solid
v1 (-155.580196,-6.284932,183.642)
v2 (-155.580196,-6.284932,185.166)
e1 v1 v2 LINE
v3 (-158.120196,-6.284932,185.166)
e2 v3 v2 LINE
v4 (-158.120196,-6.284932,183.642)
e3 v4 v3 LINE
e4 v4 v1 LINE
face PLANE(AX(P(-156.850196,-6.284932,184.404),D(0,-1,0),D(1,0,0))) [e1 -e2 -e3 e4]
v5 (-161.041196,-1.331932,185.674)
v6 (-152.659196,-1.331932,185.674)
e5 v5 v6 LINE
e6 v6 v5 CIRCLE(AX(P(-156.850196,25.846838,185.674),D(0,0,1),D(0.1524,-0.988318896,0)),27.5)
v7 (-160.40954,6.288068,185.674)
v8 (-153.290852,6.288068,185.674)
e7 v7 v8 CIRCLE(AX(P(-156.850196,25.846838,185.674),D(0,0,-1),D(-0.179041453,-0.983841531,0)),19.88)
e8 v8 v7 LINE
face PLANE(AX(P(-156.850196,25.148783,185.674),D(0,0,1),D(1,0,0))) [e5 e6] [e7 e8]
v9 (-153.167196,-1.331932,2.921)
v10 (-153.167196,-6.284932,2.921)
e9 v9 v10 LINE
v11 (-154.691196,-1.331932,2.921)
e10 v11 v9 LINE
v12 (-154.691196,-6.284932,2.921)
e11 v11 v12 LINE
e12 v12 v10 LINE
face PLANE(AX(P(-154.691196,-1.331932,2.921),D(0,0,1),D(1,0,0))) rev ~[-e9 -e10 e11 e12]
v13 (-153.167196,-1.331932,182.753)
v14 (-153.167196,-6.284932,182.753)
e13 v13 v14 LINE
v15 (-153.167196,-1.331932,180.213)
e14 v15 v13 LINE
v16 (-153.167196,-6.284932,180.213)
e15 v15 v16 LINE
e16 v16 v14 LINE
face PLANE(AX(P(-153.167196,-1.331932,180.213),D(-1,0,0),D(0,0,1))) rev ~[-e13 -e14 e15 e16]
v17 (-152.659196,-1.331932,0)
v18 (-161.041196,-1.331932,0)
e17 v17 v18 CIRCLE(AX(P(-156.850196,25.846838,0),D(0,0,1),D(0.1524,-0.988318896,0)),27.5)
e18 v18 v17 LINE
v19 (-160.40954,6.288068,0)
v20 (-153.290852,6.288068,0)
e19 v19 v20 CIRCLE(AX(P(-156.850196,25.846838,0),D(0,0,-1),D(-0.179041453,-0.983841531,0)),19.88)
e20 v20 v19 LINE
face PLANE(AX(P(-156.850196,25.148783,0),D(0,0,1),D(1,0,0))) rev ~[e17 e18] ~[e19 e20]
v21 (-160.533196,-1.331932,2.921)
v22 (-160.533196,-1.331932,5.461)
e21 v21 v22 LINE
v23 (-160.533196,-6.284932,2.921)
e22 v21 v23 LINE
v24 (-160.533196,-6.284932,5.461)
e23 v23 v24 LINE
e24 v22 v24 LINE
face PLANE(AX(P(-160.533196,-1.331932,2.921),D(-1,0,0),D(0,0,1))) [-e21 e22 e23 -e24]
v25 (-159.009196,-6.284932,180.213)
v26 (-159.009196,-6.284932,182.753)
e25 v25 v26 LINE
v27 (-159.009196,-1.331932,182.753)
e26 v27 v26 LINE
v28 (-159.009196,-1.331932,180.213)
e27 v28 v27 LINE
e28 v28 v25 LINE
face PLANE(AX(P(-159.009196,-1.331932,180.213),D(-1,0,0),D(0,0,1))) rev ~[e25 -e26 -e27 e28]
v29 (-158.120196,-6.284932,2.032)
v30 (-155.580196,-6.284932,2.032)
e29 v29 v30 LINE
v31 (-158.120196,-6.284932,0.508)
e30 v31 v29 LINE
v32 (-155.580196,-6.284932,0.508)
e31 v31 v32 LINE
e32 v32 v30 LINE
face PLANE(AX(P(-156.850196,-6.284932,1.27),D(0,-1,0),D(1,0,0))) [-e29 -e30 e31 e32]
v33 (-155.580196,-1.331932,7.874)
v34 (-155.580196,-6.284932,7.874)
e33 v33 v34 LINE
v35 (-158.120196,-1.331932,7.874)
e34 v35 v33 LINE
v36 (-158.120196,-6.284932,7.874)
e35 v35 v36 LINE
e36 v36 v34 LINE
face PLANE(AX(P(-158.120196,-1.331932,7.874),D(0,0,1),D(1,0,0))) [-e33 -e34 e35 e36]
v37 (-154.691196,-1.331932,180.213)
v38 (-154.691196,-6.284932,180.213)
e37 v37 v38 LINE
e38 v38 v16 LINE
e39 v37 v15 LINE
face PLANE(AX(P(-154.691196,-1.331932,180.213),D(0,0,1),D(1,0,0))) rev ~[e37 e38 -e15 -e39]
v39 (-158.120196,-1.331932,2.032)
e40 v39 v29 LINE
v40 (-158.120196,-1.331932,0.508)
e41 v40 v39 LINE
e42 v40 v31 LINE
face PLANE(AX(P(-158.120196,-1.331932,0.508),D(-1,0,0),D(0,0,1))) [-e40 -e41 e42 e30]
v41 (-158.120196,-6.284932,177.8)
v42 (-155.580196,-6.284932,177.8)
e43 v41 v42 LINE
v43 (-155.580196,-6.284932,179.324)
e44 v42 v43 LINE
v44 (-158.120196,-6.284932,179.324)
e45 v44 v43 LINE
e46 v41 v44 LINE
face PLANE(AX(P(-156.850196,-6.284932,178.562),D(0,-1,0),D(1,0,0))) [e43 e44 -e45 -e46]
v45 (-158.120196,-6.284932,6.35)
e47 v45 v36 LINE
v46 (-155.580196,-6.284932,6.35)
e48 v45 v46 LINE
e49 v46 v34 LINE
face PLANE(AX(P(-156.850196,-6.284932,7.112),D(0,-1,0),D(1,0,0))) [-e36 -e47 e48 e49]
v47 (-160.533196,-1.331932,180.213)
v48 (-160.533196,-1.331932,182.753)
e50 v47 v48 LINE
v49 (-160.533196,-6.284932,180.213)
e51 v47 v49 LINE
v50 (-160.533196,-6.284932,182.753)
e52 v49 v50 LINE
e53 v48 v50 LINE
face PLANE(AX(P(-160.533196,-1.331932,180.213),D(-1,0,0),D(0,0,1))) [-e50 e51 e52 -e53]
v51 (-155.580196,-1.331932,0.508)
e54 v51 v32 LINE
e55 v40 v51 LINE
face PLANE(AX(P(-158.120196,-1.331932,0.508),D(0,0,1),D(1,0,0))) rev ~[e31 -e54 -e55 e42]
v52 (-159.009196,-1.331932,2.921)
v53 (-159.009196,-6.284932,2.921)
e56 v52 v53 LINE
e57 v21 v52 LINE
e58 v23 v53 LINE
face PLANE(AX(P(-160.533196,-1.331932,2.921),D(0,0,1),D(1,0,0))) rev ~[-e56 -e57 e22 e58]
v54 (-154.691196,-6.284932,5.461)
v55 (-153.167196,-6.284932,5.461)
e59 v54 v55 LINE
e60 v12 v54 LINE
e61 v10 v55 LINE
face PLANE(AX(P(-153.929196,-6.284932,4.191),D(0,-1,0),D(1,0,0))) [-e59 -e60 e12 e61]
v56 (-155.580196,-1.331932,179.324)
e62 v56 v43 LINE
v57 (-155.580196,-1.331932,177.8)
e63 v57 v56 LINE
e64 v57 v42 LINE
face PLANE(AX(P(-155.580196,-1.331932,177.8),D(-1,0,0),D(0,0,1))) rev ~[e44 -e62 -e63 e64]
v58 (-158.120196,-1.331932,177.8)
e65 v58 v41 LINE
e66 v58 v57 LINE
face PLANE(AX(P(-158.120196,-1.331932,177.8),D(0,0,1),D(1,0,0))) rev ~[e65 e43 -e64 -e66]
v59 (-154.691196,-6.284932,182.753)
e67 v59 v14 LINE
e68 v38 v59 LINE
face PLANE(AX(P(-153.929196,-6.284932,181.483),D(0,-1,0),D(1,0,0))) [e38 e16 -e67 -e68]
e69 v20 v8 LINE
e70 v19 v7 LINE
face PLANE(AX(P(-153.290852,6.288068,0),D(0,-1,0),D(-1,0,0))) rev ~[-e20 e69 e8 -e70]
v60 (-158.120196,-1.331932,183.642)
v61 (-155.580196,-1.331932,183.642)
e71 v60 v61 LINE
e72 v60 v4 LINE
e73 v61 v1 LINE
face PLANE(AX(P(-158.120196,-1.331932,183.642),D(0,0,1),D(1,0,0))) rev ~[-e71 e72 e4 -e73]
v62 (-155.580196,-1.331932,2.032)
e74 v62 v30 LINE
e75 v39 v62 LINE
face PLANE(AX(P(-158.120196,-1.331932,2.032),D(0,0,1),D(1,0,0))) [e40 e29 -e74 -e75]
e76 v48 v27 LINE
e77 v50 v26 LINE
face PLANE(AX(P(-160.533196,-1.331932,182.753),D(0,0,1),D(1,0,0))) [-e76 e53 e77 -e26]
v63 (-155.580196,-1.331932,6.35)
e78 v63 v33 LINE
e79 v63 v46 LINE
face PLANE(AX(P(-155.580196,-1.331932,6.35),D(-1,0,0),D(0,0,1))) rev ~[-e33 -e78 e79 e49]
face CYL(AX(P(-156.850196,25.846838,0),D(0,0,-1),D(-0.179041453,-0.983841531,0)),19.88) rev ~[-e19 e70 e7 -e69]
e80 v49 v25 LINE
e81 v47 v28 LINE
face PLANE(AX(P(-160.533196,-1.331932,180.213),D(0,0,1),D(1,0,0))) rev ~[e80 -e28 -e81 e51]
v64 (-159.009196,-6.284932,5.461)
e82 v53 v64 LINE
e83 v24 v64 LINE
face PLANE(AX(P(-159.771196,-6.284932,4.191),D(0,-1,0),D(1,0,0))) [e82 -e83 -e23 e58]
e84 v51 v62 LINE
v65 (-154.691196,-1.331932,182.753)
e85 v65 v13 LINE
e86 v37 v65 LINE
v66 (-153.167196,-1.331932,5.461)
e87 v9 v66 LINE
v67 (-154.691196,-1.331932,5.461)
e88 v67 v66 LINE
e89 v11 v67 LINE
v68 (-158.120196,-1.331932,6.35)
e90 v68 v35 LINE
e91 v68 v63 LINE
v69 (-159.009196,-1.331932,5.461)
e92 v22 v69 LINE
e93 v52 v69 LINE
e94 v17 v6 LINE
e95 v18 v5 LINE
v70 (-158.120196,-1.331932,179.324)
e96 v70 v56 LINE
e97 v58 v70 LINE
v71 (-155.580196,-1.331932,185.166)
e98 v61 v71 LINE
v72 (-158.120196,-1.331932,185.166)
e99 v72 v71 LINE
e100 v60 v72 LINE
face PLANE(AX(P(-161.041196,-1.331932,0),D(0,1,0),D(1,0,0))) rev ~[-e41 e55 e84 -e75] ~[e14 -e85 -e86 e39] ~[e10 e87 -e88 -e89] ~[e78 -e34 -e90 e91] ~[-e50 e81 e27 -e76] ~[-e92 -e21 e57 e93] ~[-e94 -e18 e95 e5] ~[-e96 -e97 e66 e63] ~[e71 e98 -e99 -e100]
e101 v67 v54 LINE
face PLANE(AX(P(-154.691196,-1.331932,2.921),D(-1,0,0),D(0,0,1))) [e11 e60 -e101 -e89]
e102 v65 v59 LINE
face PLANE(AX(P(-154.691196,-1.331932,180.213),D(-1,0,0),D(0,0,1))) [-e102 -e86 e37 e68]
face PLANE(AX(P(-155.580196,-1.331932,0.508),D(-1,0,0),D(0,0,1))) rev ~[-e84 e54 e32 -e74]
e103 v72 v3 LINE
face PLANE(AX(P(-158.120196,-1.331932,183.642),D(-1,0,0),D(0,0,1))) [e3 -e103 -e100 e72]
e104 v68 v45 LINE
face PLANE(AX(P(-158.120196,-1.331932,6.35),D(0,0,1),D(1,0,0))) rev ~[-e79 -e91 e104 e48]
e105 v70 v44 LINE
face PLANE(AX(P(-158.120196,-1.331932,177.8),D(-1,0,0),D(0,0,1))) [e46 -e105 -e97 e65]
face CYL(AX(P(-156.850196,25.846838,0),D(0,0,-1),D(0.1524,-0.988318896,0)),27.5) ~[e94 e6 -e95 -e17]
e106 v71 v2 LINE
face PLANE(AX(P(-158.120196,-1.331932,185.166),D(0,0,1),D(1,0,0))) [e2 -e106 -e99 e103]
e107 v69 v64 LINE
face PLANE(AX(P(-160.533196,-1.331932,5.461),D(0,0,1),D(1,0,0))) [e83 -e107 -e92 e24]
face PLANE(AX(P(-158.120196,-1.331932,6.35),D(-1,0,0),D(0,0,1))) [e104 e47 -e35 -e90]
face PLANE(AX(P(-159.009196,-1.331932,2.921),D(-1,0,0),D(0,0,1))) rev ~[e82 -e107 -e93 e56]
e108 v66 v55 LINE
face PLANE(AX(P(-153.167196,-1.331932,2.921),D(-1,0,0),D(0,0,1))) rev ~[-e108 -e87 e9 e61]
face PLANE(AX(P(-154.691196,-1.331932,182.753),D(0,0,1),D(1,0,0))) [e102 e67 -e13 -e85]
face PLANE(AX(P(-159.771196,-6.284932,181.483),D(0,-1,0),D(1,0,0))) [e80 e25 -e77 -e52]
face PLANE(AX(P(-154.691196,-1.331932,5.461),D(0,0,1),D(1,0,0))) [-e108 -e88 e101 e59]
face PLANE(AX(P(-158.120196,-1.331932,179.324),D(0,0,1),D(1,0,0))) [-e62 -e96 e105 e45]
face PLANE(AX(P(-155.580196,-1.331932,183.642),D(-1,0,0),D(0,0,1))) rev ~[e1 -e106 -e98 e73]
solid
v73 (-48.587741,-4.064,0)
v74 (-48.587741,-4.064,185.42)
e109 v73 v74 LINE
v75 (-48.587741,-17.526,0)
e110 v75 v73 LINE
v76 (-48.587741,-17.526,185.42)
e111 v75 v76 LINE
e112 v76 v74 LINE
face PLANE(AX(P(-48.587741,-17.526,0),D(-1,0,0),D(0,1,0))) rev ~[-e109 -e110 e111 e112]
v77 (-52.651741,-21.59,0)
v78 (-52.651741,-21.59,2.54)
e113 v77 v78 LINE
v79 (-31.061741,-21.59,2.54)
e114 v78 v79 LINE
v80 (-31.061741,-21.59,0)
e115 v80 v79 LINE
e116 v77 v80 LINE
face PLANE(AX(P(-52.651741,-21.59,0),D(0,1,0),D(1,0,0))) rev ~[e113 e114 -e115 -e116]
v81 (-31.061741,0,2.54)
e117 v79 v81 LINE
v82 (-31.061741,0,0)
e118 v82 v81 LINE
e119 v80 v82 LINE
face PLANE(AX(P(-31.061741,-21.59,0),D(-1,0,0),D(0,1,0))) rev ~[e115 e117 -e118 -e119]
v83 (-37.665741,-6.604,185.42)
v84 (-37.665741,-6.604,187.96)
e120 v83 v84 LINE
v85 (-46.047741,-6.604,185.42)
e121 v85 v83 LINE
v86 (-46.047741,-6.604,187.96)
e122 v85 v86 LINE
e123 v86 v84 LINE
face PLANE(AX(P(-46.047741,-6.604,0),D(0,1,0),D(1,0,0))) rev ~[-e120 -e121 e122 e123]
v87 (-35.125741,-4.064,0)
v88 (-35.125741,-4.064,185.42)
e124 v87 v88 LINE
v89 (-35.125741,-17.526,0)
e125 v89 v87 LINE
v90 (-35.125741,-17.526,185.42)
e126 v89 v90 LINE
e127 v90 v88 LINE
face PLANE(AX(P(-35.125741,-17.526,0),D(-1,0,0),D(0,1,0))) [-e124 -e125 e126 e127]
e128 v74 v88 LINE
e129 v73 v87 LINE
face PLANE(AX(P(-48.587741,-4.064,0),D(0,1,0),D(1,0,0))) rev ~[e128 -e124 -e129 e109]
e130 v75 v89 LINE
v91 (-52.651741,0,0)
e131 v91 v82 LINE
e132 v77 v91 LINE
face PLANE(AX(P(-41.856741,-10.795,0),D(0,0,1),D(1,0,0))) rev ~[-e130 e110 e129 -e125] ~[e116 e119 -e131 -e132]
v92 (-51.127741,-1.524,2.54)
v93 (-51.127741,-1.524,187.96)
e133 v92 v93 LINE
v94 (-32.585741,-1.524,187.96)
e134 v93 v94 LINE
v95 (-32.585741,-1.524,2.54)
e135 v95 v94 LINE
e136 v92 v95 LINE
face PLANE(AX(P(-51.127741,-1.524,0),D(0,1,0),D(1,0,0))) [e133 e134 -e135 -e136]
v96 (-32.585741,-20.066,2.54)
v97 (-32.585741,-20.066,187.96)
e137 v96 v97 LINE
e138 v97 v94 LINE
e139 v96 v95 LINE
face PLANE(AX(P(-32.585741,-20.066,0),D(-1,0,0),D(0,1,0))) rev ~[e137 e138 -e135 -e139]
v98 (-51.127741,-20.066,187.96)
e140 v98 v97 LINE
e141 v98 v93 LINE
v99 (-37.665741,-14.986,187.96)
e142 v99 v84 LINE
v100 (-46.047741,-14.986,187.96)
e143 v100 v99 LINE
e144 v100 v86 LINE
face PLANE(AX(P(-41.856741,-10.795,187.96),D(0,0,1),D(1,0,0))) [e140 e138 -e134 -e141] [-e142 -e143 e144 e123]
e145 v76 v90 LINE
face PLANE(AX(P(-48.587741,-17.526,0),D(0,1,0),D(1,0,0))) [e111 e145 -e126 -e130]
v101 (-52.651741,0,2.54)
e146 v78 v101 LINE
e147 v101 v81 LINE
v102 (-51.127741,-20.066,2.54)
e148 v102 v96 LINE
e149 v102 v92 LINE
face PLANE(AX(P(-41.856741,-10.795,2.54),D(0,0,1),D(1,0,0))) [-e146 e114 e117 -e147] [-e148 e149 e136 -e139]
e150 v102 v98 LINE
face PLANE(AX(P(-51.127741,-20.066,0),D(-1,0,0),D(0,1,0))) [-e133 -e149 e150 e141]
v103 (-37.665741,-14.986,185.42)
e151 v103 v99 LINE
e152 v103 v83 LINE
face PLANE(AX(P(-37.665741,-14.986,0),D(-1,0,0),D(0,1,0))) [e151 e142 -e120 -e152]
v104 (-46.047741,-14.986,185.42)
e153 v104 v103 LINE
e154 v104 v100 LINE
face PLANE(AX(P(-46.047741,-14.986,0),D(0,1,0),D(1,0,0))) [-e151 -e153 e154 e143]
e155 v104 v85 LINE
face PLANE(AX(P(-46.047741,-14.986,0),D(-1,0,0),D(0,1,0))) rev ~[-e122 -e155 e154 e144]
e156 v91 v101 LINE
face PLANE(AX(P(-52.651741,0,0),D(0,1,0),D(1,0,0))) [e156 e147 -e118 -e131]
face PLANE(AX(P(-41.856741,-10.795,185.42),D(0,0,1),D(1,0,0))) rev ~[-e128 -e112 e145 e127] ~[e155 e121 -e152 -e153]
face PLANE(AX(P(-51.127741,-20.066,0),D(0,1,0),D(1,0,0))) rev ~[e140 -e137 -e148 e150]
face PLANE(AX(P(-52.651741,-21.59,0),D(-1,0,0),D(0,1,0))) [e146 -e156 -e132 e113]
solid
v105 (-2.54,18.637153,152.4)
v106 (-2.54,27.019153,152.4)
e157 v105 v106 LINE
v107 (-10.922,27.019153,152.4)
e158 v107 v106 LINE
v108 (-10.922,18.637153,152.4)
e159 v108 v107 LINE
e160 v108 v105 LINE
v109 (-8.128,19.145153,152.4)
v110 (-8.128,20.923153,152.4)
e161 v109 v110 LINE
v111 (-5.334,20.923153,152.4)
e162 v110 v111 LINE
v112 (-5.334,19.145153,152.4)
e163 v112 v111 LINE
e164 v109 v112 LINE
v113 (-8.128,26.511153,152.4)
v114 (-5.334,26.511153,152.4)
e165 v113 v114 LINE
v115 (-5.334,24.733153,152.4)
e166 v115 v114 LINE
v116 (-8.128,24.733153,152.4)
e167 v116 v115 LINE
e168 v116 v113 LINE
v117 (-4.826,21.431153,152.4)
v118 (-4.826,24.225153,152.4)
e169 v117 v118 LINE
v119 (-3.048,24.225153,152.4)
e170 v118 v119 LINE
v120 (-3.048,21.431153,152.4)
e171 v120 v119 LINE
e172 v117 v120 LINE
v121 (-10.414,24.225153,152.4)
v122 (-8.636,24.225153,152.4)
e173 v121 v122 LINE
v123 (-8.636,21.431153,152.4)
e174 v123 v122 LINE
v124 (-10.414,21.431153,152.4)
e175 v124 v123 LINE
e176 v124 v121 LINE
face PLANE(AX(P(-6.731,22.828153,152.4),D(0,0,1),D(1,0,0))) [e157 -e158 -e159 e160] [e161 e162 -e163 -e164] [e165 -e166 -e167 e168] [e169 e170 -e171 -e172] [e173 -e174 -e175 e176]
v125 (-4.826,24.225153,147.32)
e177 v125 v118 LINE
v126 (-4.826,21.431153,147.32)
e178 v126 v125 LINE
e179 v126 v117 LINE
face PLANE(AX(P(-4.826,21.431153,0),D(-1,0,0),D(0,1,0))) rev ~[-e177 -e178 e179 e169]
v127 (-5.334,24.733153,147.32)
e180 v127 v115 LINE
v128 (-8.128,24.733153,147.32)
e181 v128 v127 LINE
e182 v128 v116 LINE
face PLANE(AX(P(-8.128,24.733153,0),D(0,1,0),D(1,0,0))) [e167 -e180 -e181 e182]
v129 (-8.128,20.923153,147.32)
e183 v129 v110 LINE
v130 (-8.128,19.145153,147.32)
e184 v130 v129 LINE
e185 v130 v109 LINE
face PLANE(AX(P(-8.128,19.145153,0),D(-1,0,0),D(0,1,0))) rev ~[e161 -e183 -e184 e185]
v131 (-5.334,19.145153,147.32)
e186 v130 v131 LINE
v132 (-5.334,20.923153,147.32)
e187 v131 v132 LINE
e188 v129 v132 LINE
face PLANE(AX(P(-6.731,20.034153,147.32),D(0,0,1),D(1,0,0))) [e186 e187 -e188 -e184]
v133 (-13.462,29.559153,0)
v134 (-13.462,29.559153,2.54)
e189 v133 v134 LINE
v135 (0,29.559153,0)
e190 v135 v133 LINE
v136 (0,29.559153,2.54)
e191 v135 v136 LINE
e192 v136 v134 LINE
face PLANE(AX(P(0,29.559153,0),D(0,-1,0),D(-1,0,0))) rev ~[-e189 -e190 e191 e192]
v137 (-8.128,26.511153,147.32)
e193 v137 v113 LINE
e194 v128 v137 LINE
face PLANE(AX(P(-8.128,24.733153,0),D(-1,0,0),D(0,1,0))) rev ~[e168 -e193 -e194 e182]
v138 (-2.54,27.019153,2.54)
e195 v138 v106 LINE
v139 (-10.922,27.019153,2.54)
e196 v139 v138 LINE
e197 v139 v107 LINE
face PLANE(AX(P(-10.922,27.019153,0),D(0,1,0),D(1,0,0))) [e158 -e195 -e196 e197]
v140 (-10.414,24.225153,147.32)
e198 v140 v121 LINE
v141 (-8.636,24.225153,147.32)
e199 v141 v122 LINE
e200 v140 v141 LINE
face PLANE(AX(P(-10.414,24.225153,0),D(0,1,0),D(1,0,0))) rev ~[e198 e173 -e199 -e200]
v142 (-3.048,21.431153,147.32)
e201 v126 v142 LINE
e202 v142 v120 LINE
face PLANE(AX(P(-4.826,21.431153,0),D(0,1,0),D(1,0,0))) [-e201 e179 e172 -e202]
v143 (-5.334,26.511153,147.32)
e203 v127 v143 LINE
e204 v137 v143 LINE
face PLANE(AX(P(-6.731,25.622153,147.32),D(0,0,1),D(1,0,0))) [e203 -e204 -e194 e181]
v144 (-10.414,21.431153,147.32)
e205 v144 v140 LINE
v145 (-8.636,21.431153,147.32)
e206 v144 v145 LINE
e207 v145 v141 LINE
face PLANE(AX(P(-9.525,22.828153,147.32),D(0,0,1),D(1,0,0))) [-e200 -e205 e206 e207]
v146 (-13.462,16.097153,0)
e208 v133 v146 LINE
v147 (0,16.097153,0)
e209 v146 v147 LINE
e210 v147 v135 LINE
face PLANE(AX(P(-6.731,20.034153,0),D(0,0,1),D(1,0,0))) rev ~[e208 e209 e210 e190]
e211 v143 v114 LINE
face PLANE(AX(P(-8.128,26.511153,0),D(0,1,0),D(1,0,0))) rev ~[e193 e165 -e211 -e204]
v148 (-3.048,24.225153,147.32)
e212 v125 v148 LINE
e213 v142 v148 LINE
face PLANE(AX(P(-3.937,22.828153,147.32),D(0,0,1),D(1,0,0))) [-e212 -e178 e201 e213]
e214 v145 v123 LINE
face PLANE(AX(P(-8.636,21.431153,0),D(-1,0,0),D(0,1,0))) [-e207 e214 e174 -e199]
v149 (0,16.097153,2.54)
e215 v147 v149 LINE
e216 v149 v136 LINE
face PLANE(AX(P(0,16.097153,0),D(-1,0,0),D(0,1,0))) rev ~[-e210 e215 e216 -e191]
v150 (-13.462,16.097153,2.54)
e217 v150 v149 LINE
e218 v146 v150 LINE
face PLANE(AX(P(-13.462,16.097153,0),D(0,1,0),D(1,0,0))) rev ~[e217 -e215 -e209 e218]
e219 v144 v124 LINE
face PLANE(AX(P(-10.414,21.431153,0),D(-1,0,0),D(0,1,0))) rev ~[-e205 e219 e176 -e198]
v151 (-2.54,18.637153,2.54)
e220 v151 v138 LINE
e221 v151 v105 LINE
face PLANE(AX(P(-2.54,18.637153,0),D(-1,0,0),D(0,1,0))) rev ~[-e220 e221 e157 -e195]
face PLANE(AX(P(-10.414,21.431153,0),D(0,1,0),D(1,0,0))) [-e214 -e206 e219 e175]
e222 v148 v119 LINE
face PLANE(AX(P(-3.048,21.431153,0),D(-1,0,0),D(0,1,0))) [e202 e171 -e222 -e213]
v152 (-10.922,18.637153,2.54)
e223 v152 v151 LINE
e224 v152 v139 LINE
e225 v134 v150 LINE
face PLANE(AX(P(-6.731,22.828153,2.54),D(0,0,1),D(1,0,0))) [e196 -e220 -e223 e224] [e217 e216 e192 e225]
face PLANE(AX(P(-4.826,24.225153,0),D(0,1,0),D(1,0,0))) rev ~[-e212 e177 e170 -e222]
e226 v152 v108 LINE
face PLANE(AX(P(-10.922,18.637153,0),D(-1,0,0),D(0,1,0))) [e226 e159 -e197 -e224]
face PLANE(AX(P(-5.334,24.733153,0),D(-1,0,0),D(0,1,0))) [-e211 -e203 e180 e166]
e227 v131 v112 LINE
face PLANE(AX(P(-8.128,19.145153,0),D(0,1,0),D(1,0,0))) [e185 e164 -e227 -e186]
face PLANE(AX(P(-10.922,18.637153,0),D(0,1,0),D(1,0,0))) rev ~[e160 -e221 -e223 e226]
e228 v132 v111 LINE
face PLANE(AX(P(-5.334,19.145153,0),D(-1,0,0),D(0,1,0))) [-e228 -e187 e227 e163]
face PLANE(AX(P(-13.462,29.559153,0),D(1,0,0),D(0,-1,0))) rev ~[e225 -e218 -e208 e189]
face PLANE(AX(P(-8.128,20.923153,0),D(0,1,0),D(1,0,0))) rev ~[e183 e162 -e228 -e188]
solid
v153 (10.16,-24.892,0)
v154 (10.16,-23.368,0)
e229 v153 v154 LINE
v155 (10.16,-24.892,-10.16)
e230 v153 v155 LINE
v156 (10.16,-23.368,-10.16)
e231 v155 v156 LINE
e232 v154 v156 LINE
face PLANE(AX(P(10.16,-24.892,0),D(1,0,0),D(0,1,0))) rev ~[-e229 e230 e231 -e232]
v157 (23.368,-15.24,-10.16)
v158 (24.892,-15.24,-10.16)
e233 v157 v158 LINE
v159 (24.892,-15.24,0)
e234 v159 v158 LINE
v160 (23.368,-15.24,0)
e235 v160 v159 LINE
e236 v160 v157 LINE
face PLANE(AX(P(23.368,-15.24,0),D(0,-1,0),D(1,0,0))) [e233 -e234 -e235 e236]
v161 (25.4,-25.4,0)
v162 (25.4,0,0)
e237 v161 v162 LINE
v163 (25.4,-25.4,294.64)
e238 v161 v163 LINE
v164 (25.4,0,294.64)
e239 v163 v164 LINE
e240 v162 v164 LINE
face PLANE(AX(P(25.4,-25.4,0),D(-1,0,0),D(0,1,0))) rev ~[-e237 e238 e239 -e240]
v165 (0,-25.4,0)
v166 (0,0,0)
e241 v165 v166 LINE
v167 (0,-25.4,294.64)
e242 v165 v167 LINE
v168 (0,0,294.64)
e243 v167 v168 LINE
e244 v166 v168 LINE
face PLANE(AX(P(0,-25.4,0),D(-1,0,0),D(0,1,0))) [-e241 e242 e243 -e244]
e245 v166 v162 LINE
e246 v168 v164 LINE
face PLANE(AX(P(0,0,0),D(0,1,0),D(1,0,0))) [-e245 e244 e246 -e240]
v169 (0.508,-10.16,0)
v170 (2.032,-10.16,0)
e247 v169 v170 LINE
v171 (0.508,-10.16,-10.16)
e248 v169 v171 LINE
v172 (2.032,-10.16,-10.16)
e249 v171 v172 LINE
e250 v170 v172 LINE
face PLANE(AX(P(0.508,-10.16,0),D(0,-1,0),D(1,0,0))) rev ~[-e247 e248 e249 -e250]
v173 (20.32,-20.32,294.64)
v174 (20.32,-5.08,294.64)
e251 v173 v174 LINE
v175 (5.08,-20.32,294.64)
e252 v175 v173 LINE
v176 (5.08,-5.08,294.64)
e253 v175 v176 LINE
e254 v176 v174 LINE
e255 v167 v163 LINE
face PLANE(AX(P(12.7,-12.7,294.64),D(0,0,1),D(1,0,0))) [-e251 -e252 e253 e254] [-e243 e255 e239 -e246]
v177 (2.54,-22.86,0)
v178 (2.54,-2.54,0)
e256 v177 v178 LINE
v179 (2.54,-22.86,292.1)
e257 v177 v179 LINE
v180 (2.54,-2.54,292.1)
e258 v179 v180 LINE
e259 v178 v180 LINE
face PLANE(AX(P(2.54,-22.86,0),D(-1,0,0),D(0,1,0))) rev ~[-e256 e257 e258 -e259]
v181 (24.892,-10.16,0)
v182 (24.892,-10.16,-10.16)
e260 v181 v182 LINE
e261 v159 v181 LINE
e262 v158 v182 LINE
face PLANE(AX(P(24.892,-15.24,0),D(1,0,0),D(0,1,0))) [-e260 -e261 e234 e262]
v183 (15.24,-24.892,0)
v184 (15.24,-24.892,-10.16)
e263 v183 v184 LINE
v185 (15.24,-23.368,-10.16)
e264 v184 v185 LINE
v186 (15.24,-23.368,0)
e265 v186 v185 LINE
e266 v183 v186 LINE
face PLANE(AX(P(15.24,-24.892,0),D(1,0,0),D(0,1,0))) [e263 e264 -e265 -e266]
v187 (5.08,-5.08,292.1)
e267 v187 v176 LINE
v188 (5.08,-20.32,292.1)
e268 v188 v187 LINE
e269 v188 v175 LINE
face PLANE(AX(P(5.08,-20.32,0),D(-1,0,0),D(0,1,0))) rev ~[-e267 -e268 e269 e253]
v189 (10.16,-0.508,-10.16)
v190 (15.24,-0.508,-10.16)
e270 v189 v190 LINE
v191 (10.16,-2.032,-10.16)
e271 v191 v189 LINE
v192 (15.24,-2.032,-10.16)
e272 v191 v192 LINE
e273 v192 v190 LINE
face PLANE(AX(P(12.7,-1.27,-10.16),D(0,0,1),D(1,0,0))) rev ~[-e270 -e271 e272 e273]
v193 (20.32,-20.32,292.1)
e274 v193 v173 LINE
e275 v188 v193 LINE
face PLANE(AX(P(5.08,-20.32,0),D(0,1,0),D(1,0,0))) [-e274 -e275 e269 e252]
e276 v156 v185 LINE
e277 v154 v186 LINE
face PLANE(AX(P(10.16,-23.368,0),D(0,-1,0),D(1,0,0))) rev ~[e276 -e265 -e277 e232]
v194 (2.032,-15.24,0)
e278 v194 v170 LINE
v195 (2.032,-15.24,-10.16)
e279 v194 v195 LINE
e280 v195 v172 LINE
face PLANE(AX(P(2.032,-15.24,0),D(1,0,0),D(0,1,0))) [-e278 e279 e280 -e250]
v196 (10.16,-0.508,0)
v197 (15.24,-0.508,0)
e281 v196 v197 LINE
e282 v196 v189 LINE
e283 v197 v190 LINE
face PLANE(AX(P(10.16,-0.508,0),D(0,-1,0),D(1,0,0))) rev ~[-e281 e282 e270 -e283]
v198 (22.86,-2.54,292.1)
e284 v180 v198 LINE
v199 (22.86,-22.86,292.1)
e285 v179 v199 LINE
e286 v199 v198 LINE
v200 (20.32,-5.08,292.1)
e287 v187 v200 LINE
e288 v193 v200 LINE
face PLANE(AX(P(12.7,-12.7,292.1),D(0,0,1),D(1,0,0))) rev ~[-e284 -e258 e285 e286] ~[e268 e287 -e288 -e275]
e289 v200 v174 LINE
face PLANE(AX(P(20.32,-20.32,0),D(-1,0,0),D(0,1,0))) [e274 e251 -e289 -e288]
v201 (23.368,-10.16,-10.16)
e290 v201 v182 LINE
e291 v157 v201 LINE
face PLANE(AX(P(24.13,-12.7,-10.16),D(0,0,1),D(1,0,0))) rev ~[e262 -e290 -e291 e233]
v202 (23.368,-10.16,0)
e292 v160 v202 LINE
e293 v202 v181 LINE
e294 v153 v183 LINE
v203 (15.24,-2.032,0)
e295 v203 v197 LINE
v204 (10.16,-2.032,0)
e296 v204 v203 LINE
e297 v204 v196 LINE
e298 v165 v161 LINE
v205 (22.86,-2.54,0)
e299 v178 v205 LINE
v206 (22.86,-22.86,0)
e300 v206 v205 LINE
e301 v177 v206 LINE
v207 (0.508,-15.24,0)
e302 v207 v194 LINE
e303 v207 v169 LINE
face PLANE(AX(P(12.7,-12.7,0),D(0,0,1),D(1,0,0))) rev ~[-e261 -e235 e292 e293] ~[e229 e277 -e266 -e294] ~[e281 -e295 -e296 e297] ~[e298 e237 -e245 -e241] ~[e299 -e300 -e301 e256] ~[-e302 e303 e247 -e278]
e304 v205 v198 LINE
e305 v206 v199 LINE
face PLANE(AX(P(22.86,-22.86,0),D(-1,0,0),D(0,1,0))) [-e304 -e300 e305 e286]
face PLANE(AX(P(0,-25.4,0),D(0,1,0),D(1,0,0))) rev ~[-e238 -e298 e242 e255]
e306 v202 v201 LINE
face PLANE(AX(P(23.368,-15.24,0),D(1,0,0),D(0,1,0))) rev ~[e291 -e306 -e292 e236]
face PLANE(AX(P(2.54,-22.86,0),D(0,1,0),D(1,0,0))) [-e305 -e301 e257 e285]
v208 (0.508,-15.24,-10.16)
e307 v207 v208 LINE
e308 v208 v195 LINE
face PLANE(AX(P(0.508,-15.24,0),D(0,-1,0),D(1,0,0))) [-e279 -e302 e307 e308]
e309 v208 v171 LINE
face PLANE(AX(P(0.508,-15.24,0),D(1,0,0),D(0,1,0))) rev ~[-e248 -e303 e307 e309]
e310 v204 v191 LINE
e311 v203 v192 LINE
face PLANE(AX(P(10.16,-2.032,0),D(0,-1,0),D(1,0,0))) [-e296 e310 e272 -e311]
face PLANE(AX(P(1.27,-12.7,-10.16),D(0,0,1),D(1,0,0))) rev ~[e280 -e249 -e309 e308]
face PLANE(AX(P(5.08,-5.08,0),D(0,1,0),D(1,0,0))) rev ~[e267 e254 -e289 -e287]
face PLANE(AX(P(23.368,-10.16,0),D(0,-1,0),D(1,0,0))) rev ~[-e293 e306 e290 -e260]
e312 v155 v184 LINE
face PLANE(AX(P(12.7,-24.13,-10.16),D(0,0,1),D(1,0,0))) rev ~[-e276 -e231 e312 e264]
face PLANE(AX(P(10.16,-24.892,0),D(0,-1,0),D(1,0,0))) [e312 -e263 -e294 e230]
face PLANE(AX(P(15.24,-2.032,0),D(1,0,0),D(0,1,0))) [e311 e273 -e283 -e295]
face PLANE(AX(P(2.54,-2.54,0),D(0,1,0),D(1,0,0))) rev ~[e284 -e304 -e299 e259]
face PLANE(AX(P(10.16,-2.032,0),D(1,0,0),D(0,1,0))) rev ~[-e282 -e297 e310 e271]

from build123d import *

# Parameters (mm, degrees)
F0_W      = 25.4
F0_H      = 25.4
F0_W_2    = 5.08
F0_H_2    = 1.524
F0_W_3    = 1.524
F0_H_3    = 5.08
F0_W_4    = 20.32
F0_H_4    = 20.32
F0_W_5    = 15.24
F0_H_5    = 15.24
F1_DEPTH  = 294.64
F2_DEPTH  = 292.1
F0_W_6    = 18.542
F0_H_6    = 18.542
F0_W_7    = 13.462
F0_H_7    = 13.462
F0_W_8    = 8.382
F0_H_8    = 8.382
F3_DEPTH  = 187.96
F4_DEPTH  = 185.42
F0_W_9    = 21.59
F0_H_9    = 21.59
F5_DEPTH  = 2.54
F6_DEPTH  = 10.16
F7_DEPTH  = 185.674
F8_W      = 1.524
F8_H      = 2.54
F8_W_2    = 2.54
F8_H_2    = 1.524
F9_DEPTH  = 4.953
F0_W_10   = 2.794
F0_H_10   = 1.778
F0_W_11   = 1.778
F0_H_11   = 2.794
F10_DEPTH = 152.4
F11_DEPTH = 147.32


with BuildPart() as f1:
    # F0 (on Top) → F1 (new body)
    with BuildSketch(Plane.XY):
        with Locations((12.7, -12.7)):
            Rectangle(F0_W, F0_H)
        with Locations((12.7, -24.13)):
            Rectangle(F0_W_2, F0_H_2, mode=Mode.SUBTRACT)
        with Locations((1.27, -12.7)):
            Rectangle(F0_W_3, F0_H_3, mode=Mode.SUBTRACT)
        with Locations((12.7, -12.7)):
            Rectangle(F0_W_4, F0_H_4, mode=Mode.SUBTRACT)
        with Locations((24.13, -12.7)):
            Rectangle(F0_W_3, F0_H_3, mode=Mode.SUBTRACT)
        with Locations((12.7, -1.27)):
            Rectangle(F0_W_2, F0_H_2, mode=Mode.SUBTRACT)
        with Locations((12.7, -12.7)):
            Rectangle(F0_W_4, F0_H_4)
        with Locations((12.7, -12.7)):
            Rectangle(F0_W_5, F0_H_5, mode=Mode.SUBTRACT)
        with Locations((1.27, -12.7)):
            Rectangle(F0_W_3, F0_H_3)
        with Locations((12.7, -24.13)):
            Rectangle(F0_W_2, F0_H_2)
        with Locations((24.13, -12.7)):
            Rectangle(F0_W_3, F0_H_3)
        with Locations((12.7, -1.27)):
            Rectangle(F0_W_2, F0_H_2)
    extrude(amount=F1_DEPTH)

    # F0 (on Top) → F2 (cut)
    with BuildSketch(Plane.XY):
        with Locations((12.7, -12.7)):
            Rectangle(F0_W_4, F0_H_4)
        with Locations((12.7, -12.7)):
            Rectangle(F0_W_5, F0_H_5, mode=Mode.SUBTRACT)
    extrude(amount=F2_DEPTH, mode=Mode.SUBTRACT)

    # F0 (on Top) → F6 (join)
    with BuildSketch(Plane.XY):
        with Locations((1.27, -12.7)):
            Rectangle(F0_W_3, F0_H_3)
        with Locations((12.7, -24.13)):
            Rectangle(F0_W_2, F0_H_2)
        with Locations((12.7, -1.27)):
            Rectangle(F0_W_2, F0_H_2)
        with Locations((24.13, -12.7)):
            Rectangle(F0_W_3, F0_H_3)
    extrude(amount=-F6_DEPTH)


with BuildPart() as f3:
    # F0 (on Top) → F3 (new body)
    with BuildSketch(Plane.XY):
        with Locations((-41.8567406106, -10.795)):
            Rectangle(F0_W_6, F0_H_6)
        with Locations((-41.8567406106, -10.795)):
            Rectangle(F0_W_7, F0_H_7, mode=Mode.SUBTRACT)
        with Locations((-41.8567406106, -10.795)):
            Rectangle(F0_W_7, F0_H_7)
        with Locations((-41.8567406106, -10.795)):
            Rectangle(F0_W_8, F0_H_8, mode=Mode.SUBTRACT)
    extrude(amount=F3_DEPTH)

    # F0 (on Top) → F4 (cut)
    with BuildSketch(Plane.XY):
        with Locations((-41.8567406106, -10.795)):
            Rectangle(F0_W_7, F0_H_7)
        with Locations((-41.8567406106, -10.795)):
            Rectangle(F0_W_8, F0_H_8, mode=Mode.SUBTRACT)
    extrude(amount=F4_DEPTH, mode=Mode.SUBTRACT)

    # F0 (on Top) → F5 (join)
    with BuildSketch(Plane.XY):
        with Locations((-41.8567406106, -10.795)):
            Rectangle(F0_W_9, F0_H_9)
        with Locations((-41.8567406106, -10.795)):
            Rectangle(F0_W_6, F0_H_6, mode=Mode.SUBTRACT)
    extrude(amount=F5_DEPTH)


with BuildPart() as f5:
    # F0 (on Top) → F5, piece 2 (new body)
    with BuildSketch(Plane.XY):
        Polygon((0, 16.0971526057), (0, 29.5591526057), (-1.27, 29.5591526057), (-10.922, 29.5591526057), (-13.462, 29.5591526057), (-13.462, 16.0971526057), align=None)
        with Locations((-6.731, 22.8281526057)):
            Rectangle(F0_W_8, F0_H_8, mode=Mode.SUBTRACT)
    extrude(amount=F5_DEPTH)

    # F0 (on Top) → F10 (join)
    with BuildSketch(Plane.XY):
        with Locations((-6.731, 22.8281526057)):
            Rectangle(F0_W_8, F0_H_8)
        with Locations((-6.731, 20.0341526057)):
            Rectangle(F0_W_10, F0_H_10, mode=Mode.SUBTRACT)
        with Locations((-9.525, 22.8281526057)):
            Rectangle(F0_W_11, F0_H_11, mode=Mode.SUBTRACT)
        with Locations((-3.937, 22.8281526057)):
            Rectangle(F0_W_11, F0_H_11, mode=Mode.SUBTRACT)
        with Locations((-6.731, 25.6221526057)):
            Rectangle(F0_W_10, F0_H_10, mode=Mode.SUBTRACT)
    extrude(amount=F10_DEPTH)

    # F0 (on Top) → F11 (join)
    with BuildSketch(Plane.XY):
        with Locations((-6.731, 20.0341526057)):
            Rectangle(F0_W_10, F0_H_10)
        with Locations((-9.525, 22.8281526057)):
            Rectangle(F0_W_11, F0_H_11)
        with Locations((-6.731, 25.6221526057)):
            Rectangle(F0_W_10, F0_H_10)
        with Locations((-3.937, 22.8281526057)):
            Rectangle(F0_W_11, F0_H_11)
    extrude(amount=F11_DEPTH)


with BuildPart() as f7:
    # F0 (on Top) → F7 (new body)
    with BuildSketch(Plane.XY):
        with BuildLine():
            Line((-161.0411958579, -1.3319319991), (-152.6591958579, -1.3319319991))
            ThreePointArc((-152.6591958579, -1.3319319991), (-156.8501958579, 53.3468376383), (-161.0411958579, -1.3319319991))
        make_face()
        with BuildLine():
            ThreePointArc((-160.409539937, 6.2880680009), (-156.8501958579, 45.7268376383), (-153.2908517788, 6.2880680009))
            Line((-153.2908517788, 6.2880680009), (-160.409539937, 6.2880680009))
        make_face(mode=Mode.SUBTRACT)
    extrude(amount=F7_DEPTH)

    # F8 (on face) → F9 (join)
    with BuildSketch(Plane.XZ.offset(1.3319319991)):
        with Locations((-159.7711958579, 181.483)):
            Rectangle(F8_W, F8_H)
        with Locations((-156.8501958579, 184.404)):
            Rectangle(F8_W_2, F8_H_2)
        with Locations((-153.9291958579, 181.483)):
            Rectangle(F8_W, F8_H)
        with Locations((-156.8501958579, 178.562)):
            Rectangle(F8_W_2, F8_H_2)
        with Locations((-159.7711958579, 4.191)):
            Rectangle(F8_W, F8_H)
        with Locations((-156.8501958579, 7.112)):
            Rectangle(F8_W_2, F8_H_2)
        with Locations((-153.9291958579, 4.191)):
            Rectangle(F8_W, F8_H)
        with Locations((-156.8501958579, 1.27)):
            Rectangle(F8_W_2, F8_H_2)
    extrude(amount=F9_DEPTH)


solid = Compound([f1.part, f3.part, f5.part, f7.part])
